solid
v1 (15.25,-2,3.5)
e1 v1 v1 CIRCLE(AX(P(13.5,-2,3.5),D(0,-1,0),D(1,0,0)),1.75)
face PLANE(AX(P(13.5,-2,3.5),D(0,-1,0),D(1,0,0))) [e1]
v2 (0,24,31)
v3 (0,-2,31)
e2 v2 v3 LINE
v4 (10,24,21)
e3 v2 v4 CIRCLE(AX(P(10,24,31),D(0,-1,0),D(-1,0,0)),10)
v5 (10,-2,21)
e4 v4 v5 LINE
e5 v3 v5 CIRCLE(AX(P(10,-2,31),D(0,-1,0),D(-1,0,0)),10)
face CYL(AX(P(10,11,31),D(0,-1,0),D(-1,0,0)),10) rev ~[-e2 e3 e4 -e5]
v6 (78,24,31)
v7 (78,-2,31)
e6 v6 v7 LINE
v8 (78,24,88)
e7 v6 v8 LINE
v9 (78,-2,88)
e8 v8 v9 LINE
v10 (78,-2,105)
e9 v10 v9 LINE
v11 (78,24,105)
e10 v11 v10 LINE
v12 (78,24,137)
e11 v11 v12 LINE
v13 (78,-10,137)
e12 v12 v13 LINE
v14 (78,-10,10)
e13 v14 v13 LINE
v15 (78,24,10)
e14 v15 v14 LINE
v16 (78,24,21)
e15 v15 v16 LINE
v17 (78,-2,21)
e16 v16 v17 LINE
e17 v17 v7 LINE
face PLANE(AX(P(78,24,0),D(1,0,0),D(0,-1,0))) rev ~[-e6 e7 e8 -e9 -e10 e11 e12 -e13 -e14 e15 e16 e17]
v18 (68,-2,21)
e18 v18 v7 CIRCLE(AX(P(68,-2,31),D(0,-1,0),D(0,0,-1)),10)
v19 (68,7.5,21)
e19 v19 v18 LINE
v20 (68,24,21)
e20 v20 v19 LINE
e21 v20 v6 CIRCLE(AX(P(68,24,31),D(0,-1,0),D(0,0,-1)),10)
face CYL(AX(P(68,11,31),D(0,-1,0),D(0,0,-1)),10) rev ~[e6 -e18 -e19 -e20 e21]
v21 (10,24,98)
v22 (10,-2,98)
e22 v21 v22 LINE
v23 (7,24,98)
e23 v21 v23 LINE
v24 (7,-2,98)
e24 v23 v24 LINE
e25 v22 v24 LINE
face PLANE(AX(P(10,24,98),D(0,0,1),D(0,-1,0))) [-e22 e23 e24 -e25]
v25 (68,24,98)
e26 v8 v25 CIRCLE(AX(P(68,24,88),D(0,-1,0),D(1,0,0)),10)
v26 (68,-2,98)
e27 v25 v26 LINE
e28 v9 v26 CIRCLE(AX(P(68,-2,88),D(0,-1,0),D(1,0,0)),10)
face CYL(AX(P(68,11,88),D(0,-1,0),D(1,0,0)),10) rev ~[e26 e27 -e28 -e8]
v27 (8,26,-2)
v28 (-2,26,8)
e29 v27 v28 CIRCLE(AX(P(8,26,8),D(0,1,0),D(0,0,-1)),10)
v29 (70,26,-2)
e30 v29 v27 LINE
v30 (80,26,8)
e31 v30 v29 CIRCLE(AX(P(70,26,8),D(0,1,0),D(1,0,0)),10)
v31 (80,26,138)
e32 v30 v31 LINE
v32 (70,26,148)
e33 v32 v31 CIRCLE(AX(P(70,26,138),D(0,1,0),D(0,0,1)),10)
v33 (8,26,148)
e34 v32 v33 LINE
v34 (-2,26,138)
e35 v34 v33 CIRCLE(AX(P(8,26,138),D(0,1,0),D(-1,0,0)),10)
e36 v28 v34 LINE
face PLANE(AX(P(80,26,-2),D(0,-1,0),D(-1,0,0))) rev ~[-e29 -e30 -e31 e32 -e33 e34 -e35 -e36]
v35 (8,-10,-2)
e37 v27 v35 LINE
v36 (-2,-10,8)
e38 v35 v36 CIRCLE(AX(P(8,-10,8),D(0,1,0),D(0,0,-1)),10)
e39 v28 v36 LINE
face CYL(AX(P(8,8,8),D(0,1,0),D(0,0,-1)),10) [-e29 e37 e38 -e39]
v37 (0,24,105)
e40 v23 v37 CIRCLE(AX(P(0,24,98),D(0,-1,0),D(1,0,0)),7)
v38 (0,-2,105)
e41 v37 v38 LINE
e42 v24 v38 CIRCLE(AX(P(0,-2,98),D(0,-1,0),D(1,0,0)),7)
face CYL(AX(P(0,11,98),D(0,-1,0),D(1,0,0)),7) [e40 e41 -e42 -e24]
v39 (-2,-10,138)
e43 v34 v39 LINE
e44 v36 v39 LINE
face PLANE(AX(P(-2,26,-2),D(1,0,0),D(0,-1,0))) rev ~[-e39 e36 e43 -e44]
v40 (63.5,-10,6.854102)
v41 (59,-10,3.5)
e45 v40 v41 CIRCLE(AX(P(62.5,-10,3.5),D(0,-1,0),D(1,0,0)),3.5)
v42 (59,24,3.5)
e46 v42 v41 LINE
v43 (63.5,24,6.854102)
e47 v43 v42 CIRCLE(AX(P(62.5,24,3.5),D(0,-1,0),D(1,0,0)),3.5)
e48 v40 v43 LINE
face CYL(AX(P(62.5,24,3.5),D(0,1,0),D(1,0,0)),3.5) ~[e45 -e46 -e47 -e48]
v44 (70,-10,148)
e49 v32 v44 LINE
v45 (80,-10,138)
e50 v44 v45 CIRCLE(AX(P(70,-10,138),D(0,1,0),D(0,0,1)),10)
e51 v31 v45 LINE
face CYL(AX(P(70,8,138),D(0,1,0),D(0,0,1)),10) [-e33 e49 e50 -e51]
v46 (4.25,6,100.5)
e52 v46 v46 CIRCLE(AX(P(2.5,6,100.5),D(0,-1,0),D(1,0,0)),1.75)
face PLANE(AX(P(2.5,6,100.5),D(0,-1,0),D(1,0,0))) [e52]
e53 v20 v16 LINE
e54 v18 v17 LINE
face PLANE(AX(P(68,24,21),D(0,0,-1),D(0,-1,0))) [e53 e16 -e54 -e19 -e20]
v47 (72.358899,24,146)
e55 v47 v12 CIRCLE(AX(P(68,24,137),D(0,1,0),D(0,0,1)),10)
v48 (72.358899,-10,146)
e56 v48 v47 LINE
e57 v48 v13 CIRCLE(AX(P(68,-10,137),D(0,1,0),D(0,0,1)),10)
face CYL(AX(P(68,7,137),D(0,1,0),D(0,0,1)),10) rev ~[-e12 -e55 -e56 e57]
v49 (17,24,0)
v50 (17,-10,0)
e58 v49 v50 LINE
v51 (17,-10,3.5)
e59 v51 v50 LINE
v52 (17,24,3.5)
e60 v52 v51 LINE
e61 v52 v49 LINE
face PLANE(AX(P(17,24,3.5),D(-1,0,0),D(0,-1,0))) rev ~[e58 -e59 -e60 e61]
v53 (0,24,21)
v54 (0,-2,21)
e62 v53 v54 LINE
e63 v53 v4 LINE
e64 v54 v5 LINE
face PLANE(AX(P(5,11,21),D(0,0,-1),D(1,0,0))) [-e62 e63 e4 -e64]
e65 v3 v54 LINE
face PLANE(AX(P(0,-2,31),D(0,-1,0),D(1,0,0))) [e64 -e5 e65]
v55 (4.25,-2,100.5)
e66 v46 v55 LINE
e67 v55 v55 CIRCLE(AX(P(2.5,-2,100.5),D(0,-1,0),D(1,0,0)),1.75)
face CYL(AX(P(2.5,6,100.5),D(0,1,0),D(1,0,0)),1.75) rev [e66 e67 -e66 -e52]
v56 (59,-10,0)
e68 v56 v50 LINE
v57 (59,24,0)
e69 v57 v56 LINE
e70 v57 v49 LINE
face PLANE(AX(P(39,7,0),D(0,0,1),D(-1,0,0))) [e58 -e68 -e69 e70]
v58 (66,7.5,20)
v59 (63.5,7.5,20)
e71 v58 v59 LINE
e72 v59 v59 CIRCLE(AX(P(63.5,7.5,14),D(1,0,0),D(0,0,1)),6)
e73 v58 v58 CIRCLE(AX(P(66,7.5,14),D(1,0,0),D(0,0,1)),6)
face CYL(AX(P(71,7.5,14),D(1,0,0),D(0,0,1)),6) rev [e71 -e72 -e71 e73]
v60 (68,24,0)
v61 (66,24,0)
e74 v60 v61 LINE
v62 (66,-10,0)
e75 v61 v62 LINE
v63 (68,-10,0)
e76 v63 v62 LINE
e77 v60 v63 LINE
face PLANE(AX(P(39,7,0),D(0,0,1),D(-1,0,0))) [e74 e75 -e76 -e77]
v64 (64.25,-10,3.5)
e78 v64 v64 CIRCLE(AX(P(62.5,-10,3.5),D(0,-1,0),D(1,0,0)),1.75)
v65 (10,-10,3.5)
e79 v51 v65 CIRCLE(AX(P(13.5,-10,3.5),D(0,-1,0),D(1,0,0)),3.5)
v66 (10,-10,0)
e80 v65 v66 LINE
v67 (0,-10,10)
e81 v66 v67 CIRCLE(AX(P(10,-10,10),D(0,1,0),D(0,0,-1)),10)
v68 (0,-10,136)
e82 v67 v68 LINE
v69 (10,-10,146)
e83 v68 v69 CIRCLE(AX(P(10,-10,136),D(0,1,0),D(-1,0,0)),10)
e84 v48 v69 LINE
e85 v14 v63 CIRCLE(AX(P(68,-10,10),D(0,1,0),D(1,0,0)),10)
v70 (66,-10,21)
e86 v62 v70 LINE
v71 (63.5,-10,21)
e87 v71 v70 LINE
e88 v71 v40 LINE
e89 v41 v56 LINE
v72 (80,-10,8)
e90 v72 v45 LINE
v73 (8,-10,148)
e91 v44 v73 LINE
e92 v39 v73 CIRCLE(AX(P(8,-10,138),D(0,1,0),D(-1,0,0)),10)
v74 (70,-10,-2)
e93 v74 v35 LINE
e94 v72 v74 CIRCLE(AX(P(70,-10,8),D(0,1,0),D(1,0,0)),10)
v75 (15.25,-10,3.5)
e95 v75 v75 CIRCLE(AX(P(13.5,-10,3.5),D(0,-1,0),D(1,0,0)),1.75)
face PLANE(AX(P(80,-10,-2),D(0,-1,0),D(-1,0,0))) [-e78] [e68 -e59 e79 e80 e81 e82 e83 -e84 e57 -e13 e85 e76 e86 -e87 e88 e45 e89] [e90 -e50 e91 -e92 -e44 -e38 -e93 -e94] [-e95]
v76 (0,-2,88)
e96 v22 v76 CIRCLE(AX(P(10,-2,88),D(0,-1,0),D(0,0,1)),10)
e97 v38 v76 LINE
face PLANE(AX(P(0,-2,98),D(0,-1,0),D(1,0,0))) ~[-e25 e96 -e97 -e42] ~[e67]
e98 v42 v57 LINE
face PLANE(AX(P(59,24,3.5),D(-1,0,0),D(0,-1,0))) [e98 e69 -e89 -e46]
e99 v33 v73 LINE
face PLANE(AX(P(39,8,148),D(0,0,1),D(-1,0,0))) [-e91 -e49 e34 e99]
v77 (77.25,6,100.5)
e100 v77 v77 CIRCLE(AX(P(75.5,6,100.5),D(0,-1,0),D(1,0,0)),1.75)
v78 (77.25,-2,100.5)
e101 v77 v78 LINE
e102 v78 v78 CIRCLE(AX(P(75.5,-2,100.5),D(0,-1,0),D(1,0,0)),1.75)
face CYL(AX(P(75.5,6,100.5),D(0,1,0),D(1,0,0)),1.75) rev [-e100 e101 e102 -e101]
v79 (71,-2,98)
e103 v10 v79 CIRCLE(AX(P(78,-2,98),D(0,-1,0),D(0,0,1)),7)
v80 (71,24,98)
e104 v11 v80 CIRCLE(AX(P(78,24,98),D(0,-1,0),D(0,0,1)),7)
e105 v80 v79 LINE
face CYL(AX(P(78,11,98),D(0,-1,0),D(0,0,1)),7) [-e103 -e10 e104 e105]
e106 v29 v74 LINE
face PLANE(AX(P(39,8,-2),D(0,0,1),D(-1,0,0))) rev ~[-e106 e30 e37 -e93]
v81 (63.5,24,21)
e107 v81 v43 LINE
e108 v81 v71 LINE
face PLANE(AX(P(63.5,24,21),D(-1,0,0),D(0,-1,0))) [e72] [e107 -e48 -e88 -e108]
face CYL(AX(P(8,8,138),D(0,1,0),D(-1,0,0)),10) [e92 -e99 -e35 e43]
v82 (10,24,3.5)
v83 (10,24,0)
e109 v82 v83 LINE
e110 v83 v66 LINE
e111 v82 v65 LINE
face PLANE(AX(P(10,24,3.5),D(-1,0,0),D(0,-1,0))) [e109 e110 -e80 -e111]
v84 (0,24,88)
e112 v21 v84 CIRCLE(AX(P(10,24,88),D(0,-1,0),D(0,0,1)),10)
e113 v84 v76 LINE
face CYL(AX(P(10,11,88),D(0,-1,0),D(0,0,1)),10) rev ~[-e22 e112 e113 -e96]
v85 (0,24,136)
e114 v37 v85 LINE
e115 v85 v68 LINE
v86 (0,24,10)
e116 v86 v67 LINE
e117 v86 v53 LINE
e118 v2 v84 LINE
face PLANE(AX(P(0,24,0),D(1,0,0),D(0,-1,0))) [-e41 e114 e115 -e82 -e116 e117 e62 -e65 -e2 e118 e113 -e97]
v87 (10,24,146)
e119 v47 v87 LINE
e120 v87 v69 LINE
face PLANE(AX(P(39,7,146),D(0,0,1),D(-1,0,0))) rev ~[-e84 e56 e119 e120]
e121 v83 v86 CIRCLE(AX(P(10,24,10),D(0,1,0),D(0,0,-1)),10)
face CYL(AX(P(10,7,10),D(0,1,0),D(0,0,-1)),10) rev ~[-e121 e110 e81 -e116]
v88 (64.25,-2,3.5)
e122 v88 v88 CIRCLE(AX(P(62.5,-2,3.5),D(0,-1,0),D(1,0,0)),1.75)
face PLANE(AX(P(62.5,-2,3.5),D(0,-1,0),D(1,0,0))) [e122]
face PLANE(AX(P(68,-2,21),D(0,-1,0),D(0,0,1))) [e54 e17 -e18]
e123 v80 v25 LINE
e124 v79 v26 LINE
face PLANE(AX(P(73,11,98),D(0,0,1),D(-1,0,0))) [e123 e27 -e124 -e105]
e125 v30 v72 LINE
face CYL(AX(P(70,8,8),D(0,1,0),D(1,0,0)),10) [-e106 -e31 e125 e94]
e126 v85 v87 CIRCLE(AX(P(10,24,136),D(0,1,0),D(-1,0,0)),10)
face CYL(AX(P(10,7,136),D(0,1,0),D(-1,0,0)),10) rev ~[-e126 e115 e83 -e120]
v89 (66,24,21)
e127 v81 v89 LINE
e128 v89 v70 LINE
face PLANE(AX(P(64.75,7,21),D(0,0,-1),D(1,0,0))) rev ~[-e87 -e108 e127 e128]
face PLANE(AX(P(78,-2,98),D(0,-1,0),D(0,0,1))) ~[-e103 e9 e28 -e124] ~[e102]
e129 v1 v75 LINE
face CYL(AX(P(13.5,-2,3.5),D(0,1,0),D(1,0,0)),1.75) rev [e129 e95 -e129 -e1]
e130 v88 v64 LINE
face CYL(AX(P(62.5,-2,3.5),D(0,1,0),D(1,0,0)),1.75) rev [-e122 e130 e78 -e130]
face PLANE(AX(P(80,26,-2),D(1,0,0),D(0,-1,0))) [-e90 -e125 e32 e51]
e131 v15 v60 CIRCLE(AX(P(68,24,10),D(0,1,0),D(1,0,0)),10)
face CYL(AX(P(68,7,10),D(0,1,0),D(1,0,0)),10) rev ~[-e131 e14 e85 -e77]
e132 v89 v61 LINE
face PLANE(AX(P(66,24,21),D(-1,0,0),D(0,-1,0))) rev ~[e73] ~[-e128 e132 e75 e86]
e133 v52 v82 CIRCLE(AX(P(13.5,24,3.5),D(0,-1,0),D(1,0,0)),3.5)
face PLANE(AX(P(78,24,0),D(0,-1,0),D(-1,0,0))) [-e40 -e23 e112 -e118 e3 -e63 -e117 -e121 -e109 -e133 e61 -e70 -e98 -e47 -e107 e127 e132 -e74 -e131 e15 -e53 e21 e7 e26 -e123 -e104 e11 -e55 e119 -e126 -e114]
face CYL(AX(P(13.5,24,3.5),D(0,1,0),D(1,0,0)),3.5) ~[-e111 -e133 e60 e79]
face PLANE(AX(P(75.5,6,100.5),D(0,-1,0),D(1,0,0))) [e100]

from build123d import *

# Parameters (mm, degrees)
CYLINDER030_R             = 1.75
CYLINDER030_DEPTH         = 8
CYLINDER029_R             = 1.75
CYLINDER029_DEPTH         = 8
CYLINDER027_W             = 7
CYLINDER027_H             = 26
CYLINDER027_ANGLE         = 90
CYLINDER028_W             = 7
CYLINDER028_H             = 26
CYLINDER028_ANGLE         = 90
CYLINDER022_R             = 1.75
CYLINDER022_DEPTH         = 8
CYLINDER026_R             = 7
CYLINDER026_DEPTH         = 5
CYLINDER025_R             = 6
CYLINDER025_DEPTH         = 20
FUSION007_PLACEMENT_ANGLE = 270
CYLINDER024_R             = 1.75
CYLINDER024_DEPTH         = 8
CYLINDER023_R             = 3.5
CYLINDER023_DEPTH         = 34
BOX022_W                  = 7
BOX022_H                  = 34
BOX022_DEPTH              = 3.5
BOX023_W                  = 7
BOX023_H                  = 34
BOX023_DEPTH              = 3.5
BOX024_W                  = 2.5
BOX024_H                  = 34
BOX024_DEPTH              = 17.5
CYLINDER017_W             = 10
CYLINDER017_H             = 26
CYLINDER017_ANGLE         = 90
BOX018_W                  = 10
BOX018_H                  = 26
BOX018_DEPTH              = 10
CUT018_PLACEMENT_ANGLE    = 180
CYLINDER018_W             = 10
CYLINDER018_H             = 26
CYLINDER018_ANGLE         = 90
BOX019_W                  = 10
BOX019_H                  = 26
BOX019_DEPTH              = 10
CUT019_PLACEMENT_ANGLE    = 270
CYLINDER019_W             = 10
CYLINDER019_H             = 26
CYLINDER019_ANGLE         = 90
BOX020_W                  = 10
BOX020_H                  = 26
BOX020_DEPTH              = 10
CYLINDER020_W             = 10
CYLINDER020_H             = 26
CYLINDER020_ANGLE         = 90
BOX021_W                  = 10
BOX021_H                  = 26
BOX021_DEPTH              = 10
CUT021_PLACEMENT_ANGLE    = 270
CYLINDER014_W             = 10
CYLINDER014_H             = 34
CYLINDER014_ANGLE         = 90
BOX015_W                  = 10
BOX015_H                  = 34
BOX015_DEPTH              = 10
CUT013_PLACEMENT_ANGLE    = 180
CYLINDER015_W             = 10
CYLINDER015_H             = 34
CYLINDER015_ANGLE         = 90
BOX016_W                  = 10
BOX016_H                  = 34
BOX016_DEPTH              = 10
CUT014_PLACEMENT_ANGLE    = 180
CYLINDER016_W             = 10
CYLINDER016_H             = 34
CYLINDER016_ANGLE         = 90
BOX017_W                  = 10
BOX017_H                  = 34
BOX017_DEPTH              = 10
CUT015_PITCH_ANGLE        = -90
CUT015_PLACEMENT_ANGLE    = 180
CYLINDER013_W             = 10
CYLINDER013_H             = 34
CYLINDER013_ANGLE         = 90
BOX013_W                  = 10
BOX013_H                  = 34
BOX013_DEPTH              = 10
CUT012_PITCH_ANGLE        = 90
CUT012_PLACEMENT_ANGLE    = -180
BOX014_W                  = 78
BOX014_H                  = 34
BOX014_DEPTH              = 146
CYLINDER009_W             = 10
CYLINDER009_H             = 36
CYLINDER009_ANGLE         = 90
BOX009_W                  = 10
BOX009_H                  = 36
BOX009_DEPTH              = 10
CUT007_PLACEMENT_ANGLE    = 180
CYLINDER010_W             = 10
CYLINDER010_H             = 36
CYLINDER010_ANGLE         = 90
BOX010_W                  = 10
BOX010_H                  = 36
BOX010_DEPTH              = 10
CUT008_PLACEMENT_ANGLE    = 180
CYLINDER011_W             = 10
CYLINDER011_H             = 36
CYLINDER011_ANGLE         = 90
BOX011_W                  = 10
BOX011_H                  = 36
BOX011_DEPTH              = 10
CUT009_PITCH_ANGLE        = -90
CUT009_PLACEMENT_ANGLE    = -180
CYLINDER008_W             = 10
CYLINDER008_H             = 36
CYLINDER008_ANGLE         = 90
BOX007_W                  = 10
BOX007_H                  = 36
BOX007_DEPTH              = 10
CUT006_PITCH_ANGLE        = 90
CUT006_PLACEMENT_ANGLE    = -180
BOX008_W                  = 82
BOX008_H                  = 36
BOX008_DEPTH              = 150
CYLINDER021_R             = 3.5
CYLINDER021_DEPTH         = 34


with BuildPart() as cylinder030:
    # Cylinder030 → Cylinder030 (new body)
    with BuildSketch(Plane(origin=(75.5, -2, 100.5), x_dir=(1, 0, 0), z_dir=(0, -1, 0))):
        Circle(CYLINDER030_R)
    extrude(amount=CYLINDER030_DEPTH)


with BuildPart() as basecuts001:
    # Cylinder029 → Cylinder029 (new body)
    with BuildSketch(Plane(origin=(2.5, -2, 100.5), x_dir=(1, 0, 0), z_dir=(0, -1, 0))):
        Circle(CYLINDER029_R)
    extrude(amount=CYLINDER029_DEPTH)

    # Fusion011: union Cylinder030
    add(cylinder030.part)


with BuildPart() as basecuts001_1:
    # Fusion011 placement: moved
    add(basecuts001.part.moved(Location((0, 8, 0))))


with BuildPart() as mainmounts:
    # Cylinder027 → Cylinder027 (revolve)
    with BuildSketch(Plane(origin=(0, 24, 98), x_dir=(1, 0, 0), z_dir=(0, 0, -1))):
        with Locations((3.5, 13)):
            Rectangle(CYLINDER027_W, CYLINDER027_H)
    revolve(axis=Axis((0, 24, 98), (0, -1, 0)), revolution_arc=CYLINDER027_ANGLE)


with BuildPart() as fusion012:
    # Cylinder028 → Cylinder028 (revolve)
    with BuildSketch(Plane(origin=(78, 24, 98), x_dir=(0, 0, 1), z_dir=(1, 0, 0))):
        with Locations((3.5, 13)):
            Rectangle(CYLINDER028_W, CYLINDER028_H)
    revolve(axis=Axis((78, 24, 98), (0, -1, 0)), revolution_arc=CYLINDER028_ANGLE)

    # Fusion012: union mainMounts
    add(mainmounts.part)


with BuildPart() as cylinder022:
    # Cylinder022 → Cylinder022 (new body)
    with BuildSketch(Plane(origin=(13.5, -2, 3.5), x_dir=(1, 0, 0), z_dir=(0, -1, 0))):
        Circle(CYLINDER022_R)
    extrude(amount=CYLINDER022_DEPTH)


with BuildPart() as cylinder026:
    # Cylinder026 → Cylinder026 (new body)
    with BuildSketch(Plane.XY):
        Circle(CYLINDER026_R)
    extrude(amount=CYLINDER026_DEPTH)


with BuildPart() as powerswitch:
    # Cylinder025 → Cylinder025 (new body)
    with BuildSketch(Plane.XY):
        Circle(CYLINDER025_R)
    extrude(amount=CYLINDER025_DEPTH)

    # Fusion007: union Cylinder026
    add(cylinder026.part)


with BuildPart() as powerswitch_1:
    # Fusion007 placement: moved
    add(powerswitch.part.moved(Location((71, 7.5, 14))).rotate(Axis((71, 7.5, 14), (0, 1, 0)), FUSION007_PLACEMENT_ANGLE))


with BuildPart() as basecuts:
    # Cylinder024 → Cylinder024 (new body)
    with BuildSketch(Plane(origin=(62.5, -2, 3.5), x_dir=(1, 0, 0), z_dir=(0, -1, 0))):
        Circle(CYLINDER024_R)
    extrude(amount=CYLINDER024_DEPTH)

    # Fusion010: union Cylinder022, powerSwitch
    add(cylinder022.part)
    add(powerswitch_1.part)


with BuildPart() as cylinder023:
    # Cylinder023 → Cylinder023 (new body)
    with BuildSketch(Plane(origin=(62.5, 24, 3.5), x_dir=(1, 0, 0), z_dir=(0, -1, 0))):
        Circle(CYLINDER023_R)
    extrude(amount=CYLINDER023_DEPTH)


with BuildPart() as cube017:
    # Box022 → Box022 (new body)
    with BuildSketch(Plane(origin=(10, 24, 3.5), x_dir=(1, 0, 0), z_dir=(0, 0, -1))):
        with Locations((3.5, 17)):
            Rectangle(BOX022_W, BOX022_H)
    extrude(amount=BOX022_DEPTH)


with BuildPart() as cube018:
    # Box023 → Box023 (new body)
    with BuildSketch(Plane(origin=(59, 24, 3.5), x_dir=(1, 0, 0), z_dir=(0, 0, -1))):
        with Locations((3.5, 17)):
            Rectangle(BOX023_W, BOX023_H)
    extrude(amount=BOX023_DEPTH)


with BuildPart() as cube019:
    # Box024 → Box024 (new body)
    with BuildSketch(Plane(origin=(63.5, 24, 21), x_dir=(1, 0, 0), z_dir=(0, 0, -1))):
        with Locations((1.25, 17)):
            Rectangle(BOX024_W, BOX024_H)
    extrude(amount=BOX024_DEPTH)


with BuildPart() as cylinder017:
    # Cylinder017 → Cylinder017 (revolve)
    with BuildSketch(Plane(origin=(0, 26, 0), x_dir=(1, 0, 0), z_dir=(0, 0, -1))):
        with Locations((5, 13)):
            Rectangle(CYLINDER017_W, CYLINDER017_H)
    revolve(axis=Axis((0, 26, 0), (0, -1, 0)), revolution_arc=CYLINDER017_ANGLE)


with BuildPart() as batterysupport:
    # Box018 → Box018 (new body)
    with BuildSketch(Plane(origin=(10, 26, 0), x_dir=(-1, 0, 0), z_dir=(0, 0, 1))):
        with Locations((5, 13)):
            Rectangle(BOX018_W, BOX018_H)
    extrude(amount=BOX018_DEPTH)

    # Cut018: cut Cylinder017
    add(cylinder017.part, mode=Mode.SUBTRACT)


with BuildPart() as batterysupport_1:
    # Cut018 placement: moved
    add(batterysupport.part.moved(Location((10, -2, 31))).rotate(Axis((10, -2, 31), (0, 1, 0)), CUT018_PLACEMENT_ANGLE))


with BuildPart() as cylinder018:
    # Cylinder018 → Cylinder018 (revolve)
    with BuildSketch(Plane(origin=(0, 26, 0), x_dir=(1, 0, 0), z_dir=(0, 0, -1))):
        with Locations((5, 13)):
            Rectangle(CYLINDER018_W, CYLINDER018_H)
    revolve(axis=Axis((0, 26, 0), (0, -1, 0)), revolution_arc=CYLINDER018_ANGLE)


with BuildPart() as batterysupport001:
    # Box019 → Box019 (new body)
    with BuildSketch(Plane(origin=(10, 26, 0), x_dir=(-1, 0, 0), z_dir=(0, 0, 1))):
        with Locations((5, 13)):
            Rectangle(BOX019_W, BOX019_H)
    extrude(amount=BOX019_DEPTH)

    # Cut019: cut Cylinder018
    add(cylinder018.part, mode=Mode.SUBTRACT)


with BuildPart() as batterysupport001_1:
    # Cut019 placement: moved
    add(batterysupport001.part.moved(Location((68, -2, 31))).rotate(Axis((68, -2, 31), (0, -1, 0)), CUT019_PLACEMENT_ANGLE))


with BuildPart() as cylinder019:
    # Cylinder019 → Cylinder019 (revolve)
    with BuildSketch(Plane(origin=(0, 26, 0), x_dir=(1, 0, 0), z_dir=(0, 0, -1))):
        with Locations((5, 13)):
            Rectangle(CYLINDER019_W, CYLINDER019_H)
    revolve(axis=Axis((0, 26, 0), (0, -1, 0)), revolution_arc=CYLINDER019_ANGLE)


with BuildPart() as batterysupport002:
    # Box020 → Box020 (new body)
    with BuildSketch(Plane(origin=(10, 26, 0), x_dir=(-1, 0, 0), z_dir=(0, 0, 1))):
        with Locations((5, 13)):
            Rectangle(BOX020_W, BOX020_H)
    extrude(amount=BOX020_DEPTH)

    # Cut020: cut Cylinder019
    add(cylinder019.part, mode=Mode.SUBTRACT)


with BuildPart() as batterysupport002_1:
    # Cut020 placement: moved
    add(batterysupport002.part.moved(Location((68, -2, 88))))


with BuildPart() as cylinder020:
    # Cylinder020 → Cylinder020 (revolve)
    with BuildSketch(Plane(origin=(0, 26, 0), x_dir=(1, 0, 0), z_dir=(0, 0, -1))):
        with Locations((5, 13)):
            Rectangle(CYLINDER020_W, CYLINDER020_H)
    revolve(axis=Axis((0, 26, 0), (0, -1, 0)), revolution_arc=CYLINDER020_ANGLE)


with BuildPart() as batterysupport003:
    # Box021 → Box021 (new body)
    with BuildSketch(Plane(origin=(10, 26, 0), x_dir=(-1, 0, 0), z_dir=(0, 0, 1))):
        with Locations((5, 13)):
            Rectangle(BOX021_W, BOX021_H)
    extrude(amount=BOX021_DEPTH)

    # Cut021: cut Cylinder020
    add(cylinder020.part, mode=Mode.SUBTRACT)


with BuildPart() as batterysupport003_1:
    # Cut021 placement: moved
    add(batterysupport003.part.moved(Location((10, -2, 88))).rotate(Axis((10, -2, 88), (0, 1, 0)), CUT021_PLACEMENT_ANGLE))


with BuildPart() as cylinder014:
    # Cylinder014 → Cylinder014 (revolve)
    with BuildSketch(Plane(origin=(0, 26, 0), x_dir=(1, 0, 0), z_dir=(0, 0, -1))):
        with Locations((5, 17)):
            Rectangle(CYLINDER014_W, CYLINDER014_H)
    revolve(axis=Axis((0, 26, 0), (0, -1, 0)), revolution_arc=CYLINDER014_ANGLE)


with BuildPart() as cut013:
    # Box015 → Box015 (new body)
    with BuildSketch(Plane(origin=(0, -8, 0), x_dir=(1, 0, 0), z_dir=(0, 0, 1))):
        with Locations((5, 17)):
            Rectangle(BOX015_W, BOX015_H)
    extrude(amount=BOX015_DEPTH)

    # Cut013: cut Cylinder014
    add(cylinder014.part, mode=Mode.SUBTRACT)


with BuildPart() as cut013_1:
    # Cut013 placement: moved
    add(cut013.part.moved(Location((70, 18, 8))).rotate(Axis((70, 18, 8), (1, 0, 0)), CUT013_PLACEMENT_ANGLE))


with BuildPart() as cylinder015:
    # Cylinder015 → Cylinder015 (revolve)
    with BuildSketch(Plane(origin=(0, 26, 0), x_dir=(1, 0, 0), z_dir=(0, 0, -1))):
        with Locations((5, 17)):
            Rectangle(CYLINDER015_W, CYLINDER015_H)
    revolve(axis=Axis((0, 26, 0), (0, -1, 0)), revolution_arc=CYLINDER015_ANGLE)


with BuildPart() as cut014:
    # Box016 → Box016 (new body)
    with BuildSketch(Plane(origin=(0, -8, 0), x_dir=(1, 0, 0), z_dir=(0, 0, 1))):
        with Locations((5, 17)):
            Rectangle(BOX016_W, BOX016_H)
    extrude(amount=BOX016_DEPTH)

    # Cut014: cut Cylinder015
    add(cylinder015.part, mode=Mode.SUBTRACT)


with BuildPart() as cut014_1:
    # Cut014 placement: moved
    add(cut014.part.moved(Location((12, 18, 134))).rotate(Axis((12, 18, 134), (0, 0, 1)), CUT014_PLACEMENT_ANGLE))


with BuildPart() as cylinder016:
    # Cylinder016 → Cylinder016 (revolve)
    with BuildSketch(Plane(origin=(0, 26, 0), x_dir=(1, 0, 0), z_dir=(0, 0, -1))):
        with Locations((5, 17)):
            Rectangle(CYLINDER016_W, CYLINDER016_H)
    revolve(axis=Axis((0, 26, 0), (0, -1, 0)), revolution_arc=CYLINDER016_ANGLE)


with BuildPart() as cut015:
    # Box017 → Box017 (new body)
    with BuildSketch(Plane(origin=(0, -8, 0), x_dir=(1, 0, 0), z_dir=(0, 0, 1))):
        with Locations((5, 17)):
            Rectangle(BOX017_W, BOX017_H)
    extrude(amount=BOX017_DEPTH)

    # Cut015: cut Cylinder016
    add(cylinder016.part, mode=Mode.SUBTRACT)


with BuildPart() as cut015_1:
    # Cut015 pitch: moved
    add(cut015.part.rotate(Axis((0, 0, 0), (0, 1, 0)), CUT015_PITCH_ANGLE))


with BuildPart() as cut015_2:
    # Cut015 placement: moved
    add(cut015_1.part.moved(Location((70, 18, 135))).rotate(Axis((70, 18, 135), (0, 0, 1)), CUT015_PLACEMENT_ANGLE))


with BuildPart() as cylinder013:
    # Cylinder013 → Cylinder013 (revolve)
    with BuildSketch(Plane(origin=(0, 26, 0), x_dir=(1, 0, 0), z_dir=(0, 0, -1))):
        with Locations((5, 17)):
            Rectangle(CYLINDER013_W, CYLINDER013_H)
    revolve(axis=Axis((0, 26, 0), (0, -1, 0)), revolution_arc=CYLINDER013_ANGLE)


with BuildPart() as fusion006:
    # Box013 → Box013 (new body)
    with BuildSketch(Plane(origin=(0, -8, 0), x_dir=(1, 0, 0), z_dir=(0, 0, 1))):
        with Locations((5, 17)):
            Rectangle(BOX013_W, BOX013_H)
    extrude(amount=BOX013_DEPTH)

    # Cut012: cut Cylinder013
    add(cylinder013.part, mode=Mode.SUBTRACT)


with BuildPart() as fusion006_1:
    # Cut012 pitch: moved
    add(fusion006.part.rotate(Axis((0, 0, 0), (0, 1, 0)), CUT012_PITCH_ANGLE))


with BuildPart() as fusion006_2:
    # Cut012 placement: moved
    add(fusion006_1.part.moved(Location((12, 18, 8))).rotate(Axis((12, 18, 8), (0, 0, 1)), CUT012_PLACEMENT_ANGLE))

    # Fusion006: union Cut013, Cut014, Cut015
    add(cut013_1.part)
    add(cut014_1.part)
    add(cut015_2.part)


with BuildPart() as baseout001:
    # Box014 → Box014 (new body)
    with BuildSketch(Plane(origin=(80, 26, -2), x_dir=(-1, 0, 0), z_dir=(0, 0, 1))):
        with Locations((39, 17)):
            Rectangle(BOX014_W, BOX014_H)
    extrude(amount=BOX014_DEPTH)

    # Cut016: cut Fusion006
    add(fusion006_2.part, mode=Mode.SUBTRACT)


with BuildPart() as baseout001_1:
    # Cut016 placement: moved
    add(baseout001.part.moved(Location((-2, -2, 2))))


with BuildPart() as cylinder009:
    # Cylinder009 → Cylinder009 (revolve)
    with BuildSketch(Plane(origin=(0, 26, 0), x_dir=(1, 0, 0), z_dir=(0, 0, -1))):
        with Locations((5, 18)):
            Rectangle(CYLINDER009_W, CYLINDER009_H)
    revolve(axis=Axis((0, 26, 0), (0, -1, 0)), revolution_arc=CYLINDER009_ANGLE)


with BuildPart() as cut007:
    # Box009 → Box009 (new body)
    with BuildSketch(Plane(origin=(0, -10, 0), x_dir=(1, 0, 0), z_dir=(0, 0, 1))):
        with Locations((5, 18)):
            Rectangle(BOX009_W, BOX009_H)
    extrude(amount=BOX009_DEPTH)

    # Cut007: cut Cylinder009
    add(cylinder009.part, mode=Mode.SUBTRACT)


with BuildPart() as cut007_1:
    # Cut007 placement: moved
    add(cut007.part.moved(Location((70, 18, 8))).rotate(Axis((70, 18, 8), (1, 0, 0)), CUT007_PLACEMENT_ANGLE))


with BuildPart() as cylinder010:
    # Cylinder010 → Cylinder010 (revolve)
    with BuildSketch(Plane(origin=(0, 26, 0), x_dir=(1, 0, 0), z_dir=(0, 0, -1))):
        with Locations((5, 18)):
            Rectangle(CYLINDER010_W, CYLINDER010_H)
    revolve(axis=Axis((0, 26, 0), (0, -1, 0)), revolution_arc=CYLINDER010_ANGLE)


with BuildPart() as cut008:
    # Box010 → Box010 (new body)
    with BuildSketch(Plane(origin=(0, -10, 0), x_dir=(1, 0, 0), z_dir=(0, 0, 1))):
        with Locations((5, 18)):
            Rectangle(BOX010_W, BOX010_H)
    extrude(amount=BOX010_DEPTH)

    # Cut008: cut Cylinder010
    add(cylinder010.part, mode=Mode.SUBTRACT)


with BuildPart() as cut008_1:
    # Cut008 placement: moved
    add(cut008.part.moved(Location((8, 18, 138))).rotate(Axis((8, 18, 138), (0, 0, 1)), CUT008_PLACEMENT_ANGLE))


with BuildPart() as cylinder011:
    # Cylinder011 → Cylinder011 (revolve)
    with BuildSketch(Plane(origin=(0, 26, 0), x_dir=(1, 0, 0), z_dir=(0, 0, -1))):
        with Locations((5, 18)):
            Rectangle(CYLINDER011_W, CYLINDER011_H)
    revolve(axis=Axis((0, 26, 0), (0, -1, 0)), revolution_arc=CYLINDER011_ANGLE)


with BuildPart() as cut009:
    # Box011 → Box011 (new body)
    with BuildSketch(Plane(origin=(0, -10, 0), x_dir=(1, 0, 0), z_dir=(0, 0, 1))):
        with Locations((5, 18)):
            Rectangle(BOX011_W, BOX011_H)
    extrude(amount=BOX011_DEPTH)

    # Cut009: cut Cylinder011
    add(cylinder011.part, mode=Mode.SUBTRACT)


with BuildPart() as cut009_1:
    # Cut009 pitch: moved
    add(cut009.part.rotate(Axis((0, 0, 0), (0, 1, 0)), CUT009_PITCH_ANGLE))


with BuildPart() as cut009_2:
    # Cut009 placement: moved
    add(cut009_1.part.moved(Location((70, 18, 138))).rotate(Axis((70, 18, 138), (0, 0, 1)), CUT009_PLACEMENT_ANGLE))


with BuildPart() as cylinder008:
    # Cylinder008 → Cylinder008 (revolve)
    with BuildSketch(Plane(origin=(0, 26, 0), x_dir=(1, 0, 0), z_dir=(0, 0, -1))):
        with Locations((5, 18)):
            Rectangle(CYLINDER008_W, CYLINDER008_H)
    revolve(axis=Axis((0, 26, 0), (0, -1, 0)), revolution_arc=CYLINDER008_ANGLE)


with BuildPart() as fusion005:
    # Box007 → Box007 (new body)
    with BuildSketch(Plane(origin=(0, -10, 0), x_dir=(1, 0, 0), z_dir=(0, 0, 1))):
        with Locations((5, 18)):
            Rectangle(BOX007_W, BOX007_H)
    extrude(amount=BOX007_DEPTH)

    # Cut006: cut Cylinder008
    add(cylinder008.part, mode=Mode.SUBTRACT)


with BuildPart() as fusion005_1:
    # Cut006 pitch: moved
    add(fusion005.part.rotate(Axis((0, 0, 0), (0, 1, 0)), CUT006_PITCH_ANGLE))


with BuildPart() as fusion005_2:
    # Cut006 placement: moved
    add(fusion005_1.part.moved(Location((8, 18, 8))).rotate(Axis((8, 18, 8), (0, 0, 1)), CUT006_PLACEMENT_ANGLE))

    # Fusion005: union Cut007, Cut008, Cut009
    add(cut007_1.part)
    add(cut008_1.part)
    add(cut009_2.part)


with BuildPart() as fusion005_3:
    # Fusion005 placement: moved
    add(fusion005_2.part.moved(Location((0, -2, 0))))


with BuildPart() as base:
    # Box008 → Box008 (new body)
    with BuildSketch(Plane(origin=(80, 26, -2), x_dir=(-1, 0, 0), z_dir=(0, 0, 1))):
        with Locations((41, 18)):
            Rectangle(BOX008_W, BOX008_H)
    extrude(amount=BOX008_DEPTH)

    # Cut010: cut Fusion005
    add(fusion005_3.part, mode=Mode.SUBTRACT)

    # Cut017: cut BaseOut001
    add(baseout001_1.part, mode=Mode.SUBTRACT)

    # Fusion008: union batterySupport, batterySupport001, batterySupport002, batterySupport003
    add(batterysupport_1.part)
    add(batterysupport001_1.part)
    add(batterysupport002_1.part)
    add(batterysupport003_1.part)


with BuildPart() as basebottom:
    # Cylinder021 → Cylinder021 (new body)
    with BuildSketch(Plane(origin=(13.5, 24, 3.5), x_dir=(1, 0, 0), z_dir=(0, -1, 0))):
        Circle(CYLINDER021_R)
    extrude(amount=CYLINDER021_DEPTH)

    # Fusion009: union Cylinder023, Cube017, Cube018, Cube019, base
    add(cylinder023.part)
    add(cube017.part)
    add(cube018.part)
    add(cube019.part)
    add(base.part)

    # Cut022: cut baseCuts
    add(basecuts.part, mode=Mode.SUBTRACT)

    # Fusion013: union Fusion012
    add(fusion012.part)

    # Cut023: cut baseCuts001
    add(basecuts001_1.part, mode=Mode.SUBTRACT)


solid = basebottom.part
